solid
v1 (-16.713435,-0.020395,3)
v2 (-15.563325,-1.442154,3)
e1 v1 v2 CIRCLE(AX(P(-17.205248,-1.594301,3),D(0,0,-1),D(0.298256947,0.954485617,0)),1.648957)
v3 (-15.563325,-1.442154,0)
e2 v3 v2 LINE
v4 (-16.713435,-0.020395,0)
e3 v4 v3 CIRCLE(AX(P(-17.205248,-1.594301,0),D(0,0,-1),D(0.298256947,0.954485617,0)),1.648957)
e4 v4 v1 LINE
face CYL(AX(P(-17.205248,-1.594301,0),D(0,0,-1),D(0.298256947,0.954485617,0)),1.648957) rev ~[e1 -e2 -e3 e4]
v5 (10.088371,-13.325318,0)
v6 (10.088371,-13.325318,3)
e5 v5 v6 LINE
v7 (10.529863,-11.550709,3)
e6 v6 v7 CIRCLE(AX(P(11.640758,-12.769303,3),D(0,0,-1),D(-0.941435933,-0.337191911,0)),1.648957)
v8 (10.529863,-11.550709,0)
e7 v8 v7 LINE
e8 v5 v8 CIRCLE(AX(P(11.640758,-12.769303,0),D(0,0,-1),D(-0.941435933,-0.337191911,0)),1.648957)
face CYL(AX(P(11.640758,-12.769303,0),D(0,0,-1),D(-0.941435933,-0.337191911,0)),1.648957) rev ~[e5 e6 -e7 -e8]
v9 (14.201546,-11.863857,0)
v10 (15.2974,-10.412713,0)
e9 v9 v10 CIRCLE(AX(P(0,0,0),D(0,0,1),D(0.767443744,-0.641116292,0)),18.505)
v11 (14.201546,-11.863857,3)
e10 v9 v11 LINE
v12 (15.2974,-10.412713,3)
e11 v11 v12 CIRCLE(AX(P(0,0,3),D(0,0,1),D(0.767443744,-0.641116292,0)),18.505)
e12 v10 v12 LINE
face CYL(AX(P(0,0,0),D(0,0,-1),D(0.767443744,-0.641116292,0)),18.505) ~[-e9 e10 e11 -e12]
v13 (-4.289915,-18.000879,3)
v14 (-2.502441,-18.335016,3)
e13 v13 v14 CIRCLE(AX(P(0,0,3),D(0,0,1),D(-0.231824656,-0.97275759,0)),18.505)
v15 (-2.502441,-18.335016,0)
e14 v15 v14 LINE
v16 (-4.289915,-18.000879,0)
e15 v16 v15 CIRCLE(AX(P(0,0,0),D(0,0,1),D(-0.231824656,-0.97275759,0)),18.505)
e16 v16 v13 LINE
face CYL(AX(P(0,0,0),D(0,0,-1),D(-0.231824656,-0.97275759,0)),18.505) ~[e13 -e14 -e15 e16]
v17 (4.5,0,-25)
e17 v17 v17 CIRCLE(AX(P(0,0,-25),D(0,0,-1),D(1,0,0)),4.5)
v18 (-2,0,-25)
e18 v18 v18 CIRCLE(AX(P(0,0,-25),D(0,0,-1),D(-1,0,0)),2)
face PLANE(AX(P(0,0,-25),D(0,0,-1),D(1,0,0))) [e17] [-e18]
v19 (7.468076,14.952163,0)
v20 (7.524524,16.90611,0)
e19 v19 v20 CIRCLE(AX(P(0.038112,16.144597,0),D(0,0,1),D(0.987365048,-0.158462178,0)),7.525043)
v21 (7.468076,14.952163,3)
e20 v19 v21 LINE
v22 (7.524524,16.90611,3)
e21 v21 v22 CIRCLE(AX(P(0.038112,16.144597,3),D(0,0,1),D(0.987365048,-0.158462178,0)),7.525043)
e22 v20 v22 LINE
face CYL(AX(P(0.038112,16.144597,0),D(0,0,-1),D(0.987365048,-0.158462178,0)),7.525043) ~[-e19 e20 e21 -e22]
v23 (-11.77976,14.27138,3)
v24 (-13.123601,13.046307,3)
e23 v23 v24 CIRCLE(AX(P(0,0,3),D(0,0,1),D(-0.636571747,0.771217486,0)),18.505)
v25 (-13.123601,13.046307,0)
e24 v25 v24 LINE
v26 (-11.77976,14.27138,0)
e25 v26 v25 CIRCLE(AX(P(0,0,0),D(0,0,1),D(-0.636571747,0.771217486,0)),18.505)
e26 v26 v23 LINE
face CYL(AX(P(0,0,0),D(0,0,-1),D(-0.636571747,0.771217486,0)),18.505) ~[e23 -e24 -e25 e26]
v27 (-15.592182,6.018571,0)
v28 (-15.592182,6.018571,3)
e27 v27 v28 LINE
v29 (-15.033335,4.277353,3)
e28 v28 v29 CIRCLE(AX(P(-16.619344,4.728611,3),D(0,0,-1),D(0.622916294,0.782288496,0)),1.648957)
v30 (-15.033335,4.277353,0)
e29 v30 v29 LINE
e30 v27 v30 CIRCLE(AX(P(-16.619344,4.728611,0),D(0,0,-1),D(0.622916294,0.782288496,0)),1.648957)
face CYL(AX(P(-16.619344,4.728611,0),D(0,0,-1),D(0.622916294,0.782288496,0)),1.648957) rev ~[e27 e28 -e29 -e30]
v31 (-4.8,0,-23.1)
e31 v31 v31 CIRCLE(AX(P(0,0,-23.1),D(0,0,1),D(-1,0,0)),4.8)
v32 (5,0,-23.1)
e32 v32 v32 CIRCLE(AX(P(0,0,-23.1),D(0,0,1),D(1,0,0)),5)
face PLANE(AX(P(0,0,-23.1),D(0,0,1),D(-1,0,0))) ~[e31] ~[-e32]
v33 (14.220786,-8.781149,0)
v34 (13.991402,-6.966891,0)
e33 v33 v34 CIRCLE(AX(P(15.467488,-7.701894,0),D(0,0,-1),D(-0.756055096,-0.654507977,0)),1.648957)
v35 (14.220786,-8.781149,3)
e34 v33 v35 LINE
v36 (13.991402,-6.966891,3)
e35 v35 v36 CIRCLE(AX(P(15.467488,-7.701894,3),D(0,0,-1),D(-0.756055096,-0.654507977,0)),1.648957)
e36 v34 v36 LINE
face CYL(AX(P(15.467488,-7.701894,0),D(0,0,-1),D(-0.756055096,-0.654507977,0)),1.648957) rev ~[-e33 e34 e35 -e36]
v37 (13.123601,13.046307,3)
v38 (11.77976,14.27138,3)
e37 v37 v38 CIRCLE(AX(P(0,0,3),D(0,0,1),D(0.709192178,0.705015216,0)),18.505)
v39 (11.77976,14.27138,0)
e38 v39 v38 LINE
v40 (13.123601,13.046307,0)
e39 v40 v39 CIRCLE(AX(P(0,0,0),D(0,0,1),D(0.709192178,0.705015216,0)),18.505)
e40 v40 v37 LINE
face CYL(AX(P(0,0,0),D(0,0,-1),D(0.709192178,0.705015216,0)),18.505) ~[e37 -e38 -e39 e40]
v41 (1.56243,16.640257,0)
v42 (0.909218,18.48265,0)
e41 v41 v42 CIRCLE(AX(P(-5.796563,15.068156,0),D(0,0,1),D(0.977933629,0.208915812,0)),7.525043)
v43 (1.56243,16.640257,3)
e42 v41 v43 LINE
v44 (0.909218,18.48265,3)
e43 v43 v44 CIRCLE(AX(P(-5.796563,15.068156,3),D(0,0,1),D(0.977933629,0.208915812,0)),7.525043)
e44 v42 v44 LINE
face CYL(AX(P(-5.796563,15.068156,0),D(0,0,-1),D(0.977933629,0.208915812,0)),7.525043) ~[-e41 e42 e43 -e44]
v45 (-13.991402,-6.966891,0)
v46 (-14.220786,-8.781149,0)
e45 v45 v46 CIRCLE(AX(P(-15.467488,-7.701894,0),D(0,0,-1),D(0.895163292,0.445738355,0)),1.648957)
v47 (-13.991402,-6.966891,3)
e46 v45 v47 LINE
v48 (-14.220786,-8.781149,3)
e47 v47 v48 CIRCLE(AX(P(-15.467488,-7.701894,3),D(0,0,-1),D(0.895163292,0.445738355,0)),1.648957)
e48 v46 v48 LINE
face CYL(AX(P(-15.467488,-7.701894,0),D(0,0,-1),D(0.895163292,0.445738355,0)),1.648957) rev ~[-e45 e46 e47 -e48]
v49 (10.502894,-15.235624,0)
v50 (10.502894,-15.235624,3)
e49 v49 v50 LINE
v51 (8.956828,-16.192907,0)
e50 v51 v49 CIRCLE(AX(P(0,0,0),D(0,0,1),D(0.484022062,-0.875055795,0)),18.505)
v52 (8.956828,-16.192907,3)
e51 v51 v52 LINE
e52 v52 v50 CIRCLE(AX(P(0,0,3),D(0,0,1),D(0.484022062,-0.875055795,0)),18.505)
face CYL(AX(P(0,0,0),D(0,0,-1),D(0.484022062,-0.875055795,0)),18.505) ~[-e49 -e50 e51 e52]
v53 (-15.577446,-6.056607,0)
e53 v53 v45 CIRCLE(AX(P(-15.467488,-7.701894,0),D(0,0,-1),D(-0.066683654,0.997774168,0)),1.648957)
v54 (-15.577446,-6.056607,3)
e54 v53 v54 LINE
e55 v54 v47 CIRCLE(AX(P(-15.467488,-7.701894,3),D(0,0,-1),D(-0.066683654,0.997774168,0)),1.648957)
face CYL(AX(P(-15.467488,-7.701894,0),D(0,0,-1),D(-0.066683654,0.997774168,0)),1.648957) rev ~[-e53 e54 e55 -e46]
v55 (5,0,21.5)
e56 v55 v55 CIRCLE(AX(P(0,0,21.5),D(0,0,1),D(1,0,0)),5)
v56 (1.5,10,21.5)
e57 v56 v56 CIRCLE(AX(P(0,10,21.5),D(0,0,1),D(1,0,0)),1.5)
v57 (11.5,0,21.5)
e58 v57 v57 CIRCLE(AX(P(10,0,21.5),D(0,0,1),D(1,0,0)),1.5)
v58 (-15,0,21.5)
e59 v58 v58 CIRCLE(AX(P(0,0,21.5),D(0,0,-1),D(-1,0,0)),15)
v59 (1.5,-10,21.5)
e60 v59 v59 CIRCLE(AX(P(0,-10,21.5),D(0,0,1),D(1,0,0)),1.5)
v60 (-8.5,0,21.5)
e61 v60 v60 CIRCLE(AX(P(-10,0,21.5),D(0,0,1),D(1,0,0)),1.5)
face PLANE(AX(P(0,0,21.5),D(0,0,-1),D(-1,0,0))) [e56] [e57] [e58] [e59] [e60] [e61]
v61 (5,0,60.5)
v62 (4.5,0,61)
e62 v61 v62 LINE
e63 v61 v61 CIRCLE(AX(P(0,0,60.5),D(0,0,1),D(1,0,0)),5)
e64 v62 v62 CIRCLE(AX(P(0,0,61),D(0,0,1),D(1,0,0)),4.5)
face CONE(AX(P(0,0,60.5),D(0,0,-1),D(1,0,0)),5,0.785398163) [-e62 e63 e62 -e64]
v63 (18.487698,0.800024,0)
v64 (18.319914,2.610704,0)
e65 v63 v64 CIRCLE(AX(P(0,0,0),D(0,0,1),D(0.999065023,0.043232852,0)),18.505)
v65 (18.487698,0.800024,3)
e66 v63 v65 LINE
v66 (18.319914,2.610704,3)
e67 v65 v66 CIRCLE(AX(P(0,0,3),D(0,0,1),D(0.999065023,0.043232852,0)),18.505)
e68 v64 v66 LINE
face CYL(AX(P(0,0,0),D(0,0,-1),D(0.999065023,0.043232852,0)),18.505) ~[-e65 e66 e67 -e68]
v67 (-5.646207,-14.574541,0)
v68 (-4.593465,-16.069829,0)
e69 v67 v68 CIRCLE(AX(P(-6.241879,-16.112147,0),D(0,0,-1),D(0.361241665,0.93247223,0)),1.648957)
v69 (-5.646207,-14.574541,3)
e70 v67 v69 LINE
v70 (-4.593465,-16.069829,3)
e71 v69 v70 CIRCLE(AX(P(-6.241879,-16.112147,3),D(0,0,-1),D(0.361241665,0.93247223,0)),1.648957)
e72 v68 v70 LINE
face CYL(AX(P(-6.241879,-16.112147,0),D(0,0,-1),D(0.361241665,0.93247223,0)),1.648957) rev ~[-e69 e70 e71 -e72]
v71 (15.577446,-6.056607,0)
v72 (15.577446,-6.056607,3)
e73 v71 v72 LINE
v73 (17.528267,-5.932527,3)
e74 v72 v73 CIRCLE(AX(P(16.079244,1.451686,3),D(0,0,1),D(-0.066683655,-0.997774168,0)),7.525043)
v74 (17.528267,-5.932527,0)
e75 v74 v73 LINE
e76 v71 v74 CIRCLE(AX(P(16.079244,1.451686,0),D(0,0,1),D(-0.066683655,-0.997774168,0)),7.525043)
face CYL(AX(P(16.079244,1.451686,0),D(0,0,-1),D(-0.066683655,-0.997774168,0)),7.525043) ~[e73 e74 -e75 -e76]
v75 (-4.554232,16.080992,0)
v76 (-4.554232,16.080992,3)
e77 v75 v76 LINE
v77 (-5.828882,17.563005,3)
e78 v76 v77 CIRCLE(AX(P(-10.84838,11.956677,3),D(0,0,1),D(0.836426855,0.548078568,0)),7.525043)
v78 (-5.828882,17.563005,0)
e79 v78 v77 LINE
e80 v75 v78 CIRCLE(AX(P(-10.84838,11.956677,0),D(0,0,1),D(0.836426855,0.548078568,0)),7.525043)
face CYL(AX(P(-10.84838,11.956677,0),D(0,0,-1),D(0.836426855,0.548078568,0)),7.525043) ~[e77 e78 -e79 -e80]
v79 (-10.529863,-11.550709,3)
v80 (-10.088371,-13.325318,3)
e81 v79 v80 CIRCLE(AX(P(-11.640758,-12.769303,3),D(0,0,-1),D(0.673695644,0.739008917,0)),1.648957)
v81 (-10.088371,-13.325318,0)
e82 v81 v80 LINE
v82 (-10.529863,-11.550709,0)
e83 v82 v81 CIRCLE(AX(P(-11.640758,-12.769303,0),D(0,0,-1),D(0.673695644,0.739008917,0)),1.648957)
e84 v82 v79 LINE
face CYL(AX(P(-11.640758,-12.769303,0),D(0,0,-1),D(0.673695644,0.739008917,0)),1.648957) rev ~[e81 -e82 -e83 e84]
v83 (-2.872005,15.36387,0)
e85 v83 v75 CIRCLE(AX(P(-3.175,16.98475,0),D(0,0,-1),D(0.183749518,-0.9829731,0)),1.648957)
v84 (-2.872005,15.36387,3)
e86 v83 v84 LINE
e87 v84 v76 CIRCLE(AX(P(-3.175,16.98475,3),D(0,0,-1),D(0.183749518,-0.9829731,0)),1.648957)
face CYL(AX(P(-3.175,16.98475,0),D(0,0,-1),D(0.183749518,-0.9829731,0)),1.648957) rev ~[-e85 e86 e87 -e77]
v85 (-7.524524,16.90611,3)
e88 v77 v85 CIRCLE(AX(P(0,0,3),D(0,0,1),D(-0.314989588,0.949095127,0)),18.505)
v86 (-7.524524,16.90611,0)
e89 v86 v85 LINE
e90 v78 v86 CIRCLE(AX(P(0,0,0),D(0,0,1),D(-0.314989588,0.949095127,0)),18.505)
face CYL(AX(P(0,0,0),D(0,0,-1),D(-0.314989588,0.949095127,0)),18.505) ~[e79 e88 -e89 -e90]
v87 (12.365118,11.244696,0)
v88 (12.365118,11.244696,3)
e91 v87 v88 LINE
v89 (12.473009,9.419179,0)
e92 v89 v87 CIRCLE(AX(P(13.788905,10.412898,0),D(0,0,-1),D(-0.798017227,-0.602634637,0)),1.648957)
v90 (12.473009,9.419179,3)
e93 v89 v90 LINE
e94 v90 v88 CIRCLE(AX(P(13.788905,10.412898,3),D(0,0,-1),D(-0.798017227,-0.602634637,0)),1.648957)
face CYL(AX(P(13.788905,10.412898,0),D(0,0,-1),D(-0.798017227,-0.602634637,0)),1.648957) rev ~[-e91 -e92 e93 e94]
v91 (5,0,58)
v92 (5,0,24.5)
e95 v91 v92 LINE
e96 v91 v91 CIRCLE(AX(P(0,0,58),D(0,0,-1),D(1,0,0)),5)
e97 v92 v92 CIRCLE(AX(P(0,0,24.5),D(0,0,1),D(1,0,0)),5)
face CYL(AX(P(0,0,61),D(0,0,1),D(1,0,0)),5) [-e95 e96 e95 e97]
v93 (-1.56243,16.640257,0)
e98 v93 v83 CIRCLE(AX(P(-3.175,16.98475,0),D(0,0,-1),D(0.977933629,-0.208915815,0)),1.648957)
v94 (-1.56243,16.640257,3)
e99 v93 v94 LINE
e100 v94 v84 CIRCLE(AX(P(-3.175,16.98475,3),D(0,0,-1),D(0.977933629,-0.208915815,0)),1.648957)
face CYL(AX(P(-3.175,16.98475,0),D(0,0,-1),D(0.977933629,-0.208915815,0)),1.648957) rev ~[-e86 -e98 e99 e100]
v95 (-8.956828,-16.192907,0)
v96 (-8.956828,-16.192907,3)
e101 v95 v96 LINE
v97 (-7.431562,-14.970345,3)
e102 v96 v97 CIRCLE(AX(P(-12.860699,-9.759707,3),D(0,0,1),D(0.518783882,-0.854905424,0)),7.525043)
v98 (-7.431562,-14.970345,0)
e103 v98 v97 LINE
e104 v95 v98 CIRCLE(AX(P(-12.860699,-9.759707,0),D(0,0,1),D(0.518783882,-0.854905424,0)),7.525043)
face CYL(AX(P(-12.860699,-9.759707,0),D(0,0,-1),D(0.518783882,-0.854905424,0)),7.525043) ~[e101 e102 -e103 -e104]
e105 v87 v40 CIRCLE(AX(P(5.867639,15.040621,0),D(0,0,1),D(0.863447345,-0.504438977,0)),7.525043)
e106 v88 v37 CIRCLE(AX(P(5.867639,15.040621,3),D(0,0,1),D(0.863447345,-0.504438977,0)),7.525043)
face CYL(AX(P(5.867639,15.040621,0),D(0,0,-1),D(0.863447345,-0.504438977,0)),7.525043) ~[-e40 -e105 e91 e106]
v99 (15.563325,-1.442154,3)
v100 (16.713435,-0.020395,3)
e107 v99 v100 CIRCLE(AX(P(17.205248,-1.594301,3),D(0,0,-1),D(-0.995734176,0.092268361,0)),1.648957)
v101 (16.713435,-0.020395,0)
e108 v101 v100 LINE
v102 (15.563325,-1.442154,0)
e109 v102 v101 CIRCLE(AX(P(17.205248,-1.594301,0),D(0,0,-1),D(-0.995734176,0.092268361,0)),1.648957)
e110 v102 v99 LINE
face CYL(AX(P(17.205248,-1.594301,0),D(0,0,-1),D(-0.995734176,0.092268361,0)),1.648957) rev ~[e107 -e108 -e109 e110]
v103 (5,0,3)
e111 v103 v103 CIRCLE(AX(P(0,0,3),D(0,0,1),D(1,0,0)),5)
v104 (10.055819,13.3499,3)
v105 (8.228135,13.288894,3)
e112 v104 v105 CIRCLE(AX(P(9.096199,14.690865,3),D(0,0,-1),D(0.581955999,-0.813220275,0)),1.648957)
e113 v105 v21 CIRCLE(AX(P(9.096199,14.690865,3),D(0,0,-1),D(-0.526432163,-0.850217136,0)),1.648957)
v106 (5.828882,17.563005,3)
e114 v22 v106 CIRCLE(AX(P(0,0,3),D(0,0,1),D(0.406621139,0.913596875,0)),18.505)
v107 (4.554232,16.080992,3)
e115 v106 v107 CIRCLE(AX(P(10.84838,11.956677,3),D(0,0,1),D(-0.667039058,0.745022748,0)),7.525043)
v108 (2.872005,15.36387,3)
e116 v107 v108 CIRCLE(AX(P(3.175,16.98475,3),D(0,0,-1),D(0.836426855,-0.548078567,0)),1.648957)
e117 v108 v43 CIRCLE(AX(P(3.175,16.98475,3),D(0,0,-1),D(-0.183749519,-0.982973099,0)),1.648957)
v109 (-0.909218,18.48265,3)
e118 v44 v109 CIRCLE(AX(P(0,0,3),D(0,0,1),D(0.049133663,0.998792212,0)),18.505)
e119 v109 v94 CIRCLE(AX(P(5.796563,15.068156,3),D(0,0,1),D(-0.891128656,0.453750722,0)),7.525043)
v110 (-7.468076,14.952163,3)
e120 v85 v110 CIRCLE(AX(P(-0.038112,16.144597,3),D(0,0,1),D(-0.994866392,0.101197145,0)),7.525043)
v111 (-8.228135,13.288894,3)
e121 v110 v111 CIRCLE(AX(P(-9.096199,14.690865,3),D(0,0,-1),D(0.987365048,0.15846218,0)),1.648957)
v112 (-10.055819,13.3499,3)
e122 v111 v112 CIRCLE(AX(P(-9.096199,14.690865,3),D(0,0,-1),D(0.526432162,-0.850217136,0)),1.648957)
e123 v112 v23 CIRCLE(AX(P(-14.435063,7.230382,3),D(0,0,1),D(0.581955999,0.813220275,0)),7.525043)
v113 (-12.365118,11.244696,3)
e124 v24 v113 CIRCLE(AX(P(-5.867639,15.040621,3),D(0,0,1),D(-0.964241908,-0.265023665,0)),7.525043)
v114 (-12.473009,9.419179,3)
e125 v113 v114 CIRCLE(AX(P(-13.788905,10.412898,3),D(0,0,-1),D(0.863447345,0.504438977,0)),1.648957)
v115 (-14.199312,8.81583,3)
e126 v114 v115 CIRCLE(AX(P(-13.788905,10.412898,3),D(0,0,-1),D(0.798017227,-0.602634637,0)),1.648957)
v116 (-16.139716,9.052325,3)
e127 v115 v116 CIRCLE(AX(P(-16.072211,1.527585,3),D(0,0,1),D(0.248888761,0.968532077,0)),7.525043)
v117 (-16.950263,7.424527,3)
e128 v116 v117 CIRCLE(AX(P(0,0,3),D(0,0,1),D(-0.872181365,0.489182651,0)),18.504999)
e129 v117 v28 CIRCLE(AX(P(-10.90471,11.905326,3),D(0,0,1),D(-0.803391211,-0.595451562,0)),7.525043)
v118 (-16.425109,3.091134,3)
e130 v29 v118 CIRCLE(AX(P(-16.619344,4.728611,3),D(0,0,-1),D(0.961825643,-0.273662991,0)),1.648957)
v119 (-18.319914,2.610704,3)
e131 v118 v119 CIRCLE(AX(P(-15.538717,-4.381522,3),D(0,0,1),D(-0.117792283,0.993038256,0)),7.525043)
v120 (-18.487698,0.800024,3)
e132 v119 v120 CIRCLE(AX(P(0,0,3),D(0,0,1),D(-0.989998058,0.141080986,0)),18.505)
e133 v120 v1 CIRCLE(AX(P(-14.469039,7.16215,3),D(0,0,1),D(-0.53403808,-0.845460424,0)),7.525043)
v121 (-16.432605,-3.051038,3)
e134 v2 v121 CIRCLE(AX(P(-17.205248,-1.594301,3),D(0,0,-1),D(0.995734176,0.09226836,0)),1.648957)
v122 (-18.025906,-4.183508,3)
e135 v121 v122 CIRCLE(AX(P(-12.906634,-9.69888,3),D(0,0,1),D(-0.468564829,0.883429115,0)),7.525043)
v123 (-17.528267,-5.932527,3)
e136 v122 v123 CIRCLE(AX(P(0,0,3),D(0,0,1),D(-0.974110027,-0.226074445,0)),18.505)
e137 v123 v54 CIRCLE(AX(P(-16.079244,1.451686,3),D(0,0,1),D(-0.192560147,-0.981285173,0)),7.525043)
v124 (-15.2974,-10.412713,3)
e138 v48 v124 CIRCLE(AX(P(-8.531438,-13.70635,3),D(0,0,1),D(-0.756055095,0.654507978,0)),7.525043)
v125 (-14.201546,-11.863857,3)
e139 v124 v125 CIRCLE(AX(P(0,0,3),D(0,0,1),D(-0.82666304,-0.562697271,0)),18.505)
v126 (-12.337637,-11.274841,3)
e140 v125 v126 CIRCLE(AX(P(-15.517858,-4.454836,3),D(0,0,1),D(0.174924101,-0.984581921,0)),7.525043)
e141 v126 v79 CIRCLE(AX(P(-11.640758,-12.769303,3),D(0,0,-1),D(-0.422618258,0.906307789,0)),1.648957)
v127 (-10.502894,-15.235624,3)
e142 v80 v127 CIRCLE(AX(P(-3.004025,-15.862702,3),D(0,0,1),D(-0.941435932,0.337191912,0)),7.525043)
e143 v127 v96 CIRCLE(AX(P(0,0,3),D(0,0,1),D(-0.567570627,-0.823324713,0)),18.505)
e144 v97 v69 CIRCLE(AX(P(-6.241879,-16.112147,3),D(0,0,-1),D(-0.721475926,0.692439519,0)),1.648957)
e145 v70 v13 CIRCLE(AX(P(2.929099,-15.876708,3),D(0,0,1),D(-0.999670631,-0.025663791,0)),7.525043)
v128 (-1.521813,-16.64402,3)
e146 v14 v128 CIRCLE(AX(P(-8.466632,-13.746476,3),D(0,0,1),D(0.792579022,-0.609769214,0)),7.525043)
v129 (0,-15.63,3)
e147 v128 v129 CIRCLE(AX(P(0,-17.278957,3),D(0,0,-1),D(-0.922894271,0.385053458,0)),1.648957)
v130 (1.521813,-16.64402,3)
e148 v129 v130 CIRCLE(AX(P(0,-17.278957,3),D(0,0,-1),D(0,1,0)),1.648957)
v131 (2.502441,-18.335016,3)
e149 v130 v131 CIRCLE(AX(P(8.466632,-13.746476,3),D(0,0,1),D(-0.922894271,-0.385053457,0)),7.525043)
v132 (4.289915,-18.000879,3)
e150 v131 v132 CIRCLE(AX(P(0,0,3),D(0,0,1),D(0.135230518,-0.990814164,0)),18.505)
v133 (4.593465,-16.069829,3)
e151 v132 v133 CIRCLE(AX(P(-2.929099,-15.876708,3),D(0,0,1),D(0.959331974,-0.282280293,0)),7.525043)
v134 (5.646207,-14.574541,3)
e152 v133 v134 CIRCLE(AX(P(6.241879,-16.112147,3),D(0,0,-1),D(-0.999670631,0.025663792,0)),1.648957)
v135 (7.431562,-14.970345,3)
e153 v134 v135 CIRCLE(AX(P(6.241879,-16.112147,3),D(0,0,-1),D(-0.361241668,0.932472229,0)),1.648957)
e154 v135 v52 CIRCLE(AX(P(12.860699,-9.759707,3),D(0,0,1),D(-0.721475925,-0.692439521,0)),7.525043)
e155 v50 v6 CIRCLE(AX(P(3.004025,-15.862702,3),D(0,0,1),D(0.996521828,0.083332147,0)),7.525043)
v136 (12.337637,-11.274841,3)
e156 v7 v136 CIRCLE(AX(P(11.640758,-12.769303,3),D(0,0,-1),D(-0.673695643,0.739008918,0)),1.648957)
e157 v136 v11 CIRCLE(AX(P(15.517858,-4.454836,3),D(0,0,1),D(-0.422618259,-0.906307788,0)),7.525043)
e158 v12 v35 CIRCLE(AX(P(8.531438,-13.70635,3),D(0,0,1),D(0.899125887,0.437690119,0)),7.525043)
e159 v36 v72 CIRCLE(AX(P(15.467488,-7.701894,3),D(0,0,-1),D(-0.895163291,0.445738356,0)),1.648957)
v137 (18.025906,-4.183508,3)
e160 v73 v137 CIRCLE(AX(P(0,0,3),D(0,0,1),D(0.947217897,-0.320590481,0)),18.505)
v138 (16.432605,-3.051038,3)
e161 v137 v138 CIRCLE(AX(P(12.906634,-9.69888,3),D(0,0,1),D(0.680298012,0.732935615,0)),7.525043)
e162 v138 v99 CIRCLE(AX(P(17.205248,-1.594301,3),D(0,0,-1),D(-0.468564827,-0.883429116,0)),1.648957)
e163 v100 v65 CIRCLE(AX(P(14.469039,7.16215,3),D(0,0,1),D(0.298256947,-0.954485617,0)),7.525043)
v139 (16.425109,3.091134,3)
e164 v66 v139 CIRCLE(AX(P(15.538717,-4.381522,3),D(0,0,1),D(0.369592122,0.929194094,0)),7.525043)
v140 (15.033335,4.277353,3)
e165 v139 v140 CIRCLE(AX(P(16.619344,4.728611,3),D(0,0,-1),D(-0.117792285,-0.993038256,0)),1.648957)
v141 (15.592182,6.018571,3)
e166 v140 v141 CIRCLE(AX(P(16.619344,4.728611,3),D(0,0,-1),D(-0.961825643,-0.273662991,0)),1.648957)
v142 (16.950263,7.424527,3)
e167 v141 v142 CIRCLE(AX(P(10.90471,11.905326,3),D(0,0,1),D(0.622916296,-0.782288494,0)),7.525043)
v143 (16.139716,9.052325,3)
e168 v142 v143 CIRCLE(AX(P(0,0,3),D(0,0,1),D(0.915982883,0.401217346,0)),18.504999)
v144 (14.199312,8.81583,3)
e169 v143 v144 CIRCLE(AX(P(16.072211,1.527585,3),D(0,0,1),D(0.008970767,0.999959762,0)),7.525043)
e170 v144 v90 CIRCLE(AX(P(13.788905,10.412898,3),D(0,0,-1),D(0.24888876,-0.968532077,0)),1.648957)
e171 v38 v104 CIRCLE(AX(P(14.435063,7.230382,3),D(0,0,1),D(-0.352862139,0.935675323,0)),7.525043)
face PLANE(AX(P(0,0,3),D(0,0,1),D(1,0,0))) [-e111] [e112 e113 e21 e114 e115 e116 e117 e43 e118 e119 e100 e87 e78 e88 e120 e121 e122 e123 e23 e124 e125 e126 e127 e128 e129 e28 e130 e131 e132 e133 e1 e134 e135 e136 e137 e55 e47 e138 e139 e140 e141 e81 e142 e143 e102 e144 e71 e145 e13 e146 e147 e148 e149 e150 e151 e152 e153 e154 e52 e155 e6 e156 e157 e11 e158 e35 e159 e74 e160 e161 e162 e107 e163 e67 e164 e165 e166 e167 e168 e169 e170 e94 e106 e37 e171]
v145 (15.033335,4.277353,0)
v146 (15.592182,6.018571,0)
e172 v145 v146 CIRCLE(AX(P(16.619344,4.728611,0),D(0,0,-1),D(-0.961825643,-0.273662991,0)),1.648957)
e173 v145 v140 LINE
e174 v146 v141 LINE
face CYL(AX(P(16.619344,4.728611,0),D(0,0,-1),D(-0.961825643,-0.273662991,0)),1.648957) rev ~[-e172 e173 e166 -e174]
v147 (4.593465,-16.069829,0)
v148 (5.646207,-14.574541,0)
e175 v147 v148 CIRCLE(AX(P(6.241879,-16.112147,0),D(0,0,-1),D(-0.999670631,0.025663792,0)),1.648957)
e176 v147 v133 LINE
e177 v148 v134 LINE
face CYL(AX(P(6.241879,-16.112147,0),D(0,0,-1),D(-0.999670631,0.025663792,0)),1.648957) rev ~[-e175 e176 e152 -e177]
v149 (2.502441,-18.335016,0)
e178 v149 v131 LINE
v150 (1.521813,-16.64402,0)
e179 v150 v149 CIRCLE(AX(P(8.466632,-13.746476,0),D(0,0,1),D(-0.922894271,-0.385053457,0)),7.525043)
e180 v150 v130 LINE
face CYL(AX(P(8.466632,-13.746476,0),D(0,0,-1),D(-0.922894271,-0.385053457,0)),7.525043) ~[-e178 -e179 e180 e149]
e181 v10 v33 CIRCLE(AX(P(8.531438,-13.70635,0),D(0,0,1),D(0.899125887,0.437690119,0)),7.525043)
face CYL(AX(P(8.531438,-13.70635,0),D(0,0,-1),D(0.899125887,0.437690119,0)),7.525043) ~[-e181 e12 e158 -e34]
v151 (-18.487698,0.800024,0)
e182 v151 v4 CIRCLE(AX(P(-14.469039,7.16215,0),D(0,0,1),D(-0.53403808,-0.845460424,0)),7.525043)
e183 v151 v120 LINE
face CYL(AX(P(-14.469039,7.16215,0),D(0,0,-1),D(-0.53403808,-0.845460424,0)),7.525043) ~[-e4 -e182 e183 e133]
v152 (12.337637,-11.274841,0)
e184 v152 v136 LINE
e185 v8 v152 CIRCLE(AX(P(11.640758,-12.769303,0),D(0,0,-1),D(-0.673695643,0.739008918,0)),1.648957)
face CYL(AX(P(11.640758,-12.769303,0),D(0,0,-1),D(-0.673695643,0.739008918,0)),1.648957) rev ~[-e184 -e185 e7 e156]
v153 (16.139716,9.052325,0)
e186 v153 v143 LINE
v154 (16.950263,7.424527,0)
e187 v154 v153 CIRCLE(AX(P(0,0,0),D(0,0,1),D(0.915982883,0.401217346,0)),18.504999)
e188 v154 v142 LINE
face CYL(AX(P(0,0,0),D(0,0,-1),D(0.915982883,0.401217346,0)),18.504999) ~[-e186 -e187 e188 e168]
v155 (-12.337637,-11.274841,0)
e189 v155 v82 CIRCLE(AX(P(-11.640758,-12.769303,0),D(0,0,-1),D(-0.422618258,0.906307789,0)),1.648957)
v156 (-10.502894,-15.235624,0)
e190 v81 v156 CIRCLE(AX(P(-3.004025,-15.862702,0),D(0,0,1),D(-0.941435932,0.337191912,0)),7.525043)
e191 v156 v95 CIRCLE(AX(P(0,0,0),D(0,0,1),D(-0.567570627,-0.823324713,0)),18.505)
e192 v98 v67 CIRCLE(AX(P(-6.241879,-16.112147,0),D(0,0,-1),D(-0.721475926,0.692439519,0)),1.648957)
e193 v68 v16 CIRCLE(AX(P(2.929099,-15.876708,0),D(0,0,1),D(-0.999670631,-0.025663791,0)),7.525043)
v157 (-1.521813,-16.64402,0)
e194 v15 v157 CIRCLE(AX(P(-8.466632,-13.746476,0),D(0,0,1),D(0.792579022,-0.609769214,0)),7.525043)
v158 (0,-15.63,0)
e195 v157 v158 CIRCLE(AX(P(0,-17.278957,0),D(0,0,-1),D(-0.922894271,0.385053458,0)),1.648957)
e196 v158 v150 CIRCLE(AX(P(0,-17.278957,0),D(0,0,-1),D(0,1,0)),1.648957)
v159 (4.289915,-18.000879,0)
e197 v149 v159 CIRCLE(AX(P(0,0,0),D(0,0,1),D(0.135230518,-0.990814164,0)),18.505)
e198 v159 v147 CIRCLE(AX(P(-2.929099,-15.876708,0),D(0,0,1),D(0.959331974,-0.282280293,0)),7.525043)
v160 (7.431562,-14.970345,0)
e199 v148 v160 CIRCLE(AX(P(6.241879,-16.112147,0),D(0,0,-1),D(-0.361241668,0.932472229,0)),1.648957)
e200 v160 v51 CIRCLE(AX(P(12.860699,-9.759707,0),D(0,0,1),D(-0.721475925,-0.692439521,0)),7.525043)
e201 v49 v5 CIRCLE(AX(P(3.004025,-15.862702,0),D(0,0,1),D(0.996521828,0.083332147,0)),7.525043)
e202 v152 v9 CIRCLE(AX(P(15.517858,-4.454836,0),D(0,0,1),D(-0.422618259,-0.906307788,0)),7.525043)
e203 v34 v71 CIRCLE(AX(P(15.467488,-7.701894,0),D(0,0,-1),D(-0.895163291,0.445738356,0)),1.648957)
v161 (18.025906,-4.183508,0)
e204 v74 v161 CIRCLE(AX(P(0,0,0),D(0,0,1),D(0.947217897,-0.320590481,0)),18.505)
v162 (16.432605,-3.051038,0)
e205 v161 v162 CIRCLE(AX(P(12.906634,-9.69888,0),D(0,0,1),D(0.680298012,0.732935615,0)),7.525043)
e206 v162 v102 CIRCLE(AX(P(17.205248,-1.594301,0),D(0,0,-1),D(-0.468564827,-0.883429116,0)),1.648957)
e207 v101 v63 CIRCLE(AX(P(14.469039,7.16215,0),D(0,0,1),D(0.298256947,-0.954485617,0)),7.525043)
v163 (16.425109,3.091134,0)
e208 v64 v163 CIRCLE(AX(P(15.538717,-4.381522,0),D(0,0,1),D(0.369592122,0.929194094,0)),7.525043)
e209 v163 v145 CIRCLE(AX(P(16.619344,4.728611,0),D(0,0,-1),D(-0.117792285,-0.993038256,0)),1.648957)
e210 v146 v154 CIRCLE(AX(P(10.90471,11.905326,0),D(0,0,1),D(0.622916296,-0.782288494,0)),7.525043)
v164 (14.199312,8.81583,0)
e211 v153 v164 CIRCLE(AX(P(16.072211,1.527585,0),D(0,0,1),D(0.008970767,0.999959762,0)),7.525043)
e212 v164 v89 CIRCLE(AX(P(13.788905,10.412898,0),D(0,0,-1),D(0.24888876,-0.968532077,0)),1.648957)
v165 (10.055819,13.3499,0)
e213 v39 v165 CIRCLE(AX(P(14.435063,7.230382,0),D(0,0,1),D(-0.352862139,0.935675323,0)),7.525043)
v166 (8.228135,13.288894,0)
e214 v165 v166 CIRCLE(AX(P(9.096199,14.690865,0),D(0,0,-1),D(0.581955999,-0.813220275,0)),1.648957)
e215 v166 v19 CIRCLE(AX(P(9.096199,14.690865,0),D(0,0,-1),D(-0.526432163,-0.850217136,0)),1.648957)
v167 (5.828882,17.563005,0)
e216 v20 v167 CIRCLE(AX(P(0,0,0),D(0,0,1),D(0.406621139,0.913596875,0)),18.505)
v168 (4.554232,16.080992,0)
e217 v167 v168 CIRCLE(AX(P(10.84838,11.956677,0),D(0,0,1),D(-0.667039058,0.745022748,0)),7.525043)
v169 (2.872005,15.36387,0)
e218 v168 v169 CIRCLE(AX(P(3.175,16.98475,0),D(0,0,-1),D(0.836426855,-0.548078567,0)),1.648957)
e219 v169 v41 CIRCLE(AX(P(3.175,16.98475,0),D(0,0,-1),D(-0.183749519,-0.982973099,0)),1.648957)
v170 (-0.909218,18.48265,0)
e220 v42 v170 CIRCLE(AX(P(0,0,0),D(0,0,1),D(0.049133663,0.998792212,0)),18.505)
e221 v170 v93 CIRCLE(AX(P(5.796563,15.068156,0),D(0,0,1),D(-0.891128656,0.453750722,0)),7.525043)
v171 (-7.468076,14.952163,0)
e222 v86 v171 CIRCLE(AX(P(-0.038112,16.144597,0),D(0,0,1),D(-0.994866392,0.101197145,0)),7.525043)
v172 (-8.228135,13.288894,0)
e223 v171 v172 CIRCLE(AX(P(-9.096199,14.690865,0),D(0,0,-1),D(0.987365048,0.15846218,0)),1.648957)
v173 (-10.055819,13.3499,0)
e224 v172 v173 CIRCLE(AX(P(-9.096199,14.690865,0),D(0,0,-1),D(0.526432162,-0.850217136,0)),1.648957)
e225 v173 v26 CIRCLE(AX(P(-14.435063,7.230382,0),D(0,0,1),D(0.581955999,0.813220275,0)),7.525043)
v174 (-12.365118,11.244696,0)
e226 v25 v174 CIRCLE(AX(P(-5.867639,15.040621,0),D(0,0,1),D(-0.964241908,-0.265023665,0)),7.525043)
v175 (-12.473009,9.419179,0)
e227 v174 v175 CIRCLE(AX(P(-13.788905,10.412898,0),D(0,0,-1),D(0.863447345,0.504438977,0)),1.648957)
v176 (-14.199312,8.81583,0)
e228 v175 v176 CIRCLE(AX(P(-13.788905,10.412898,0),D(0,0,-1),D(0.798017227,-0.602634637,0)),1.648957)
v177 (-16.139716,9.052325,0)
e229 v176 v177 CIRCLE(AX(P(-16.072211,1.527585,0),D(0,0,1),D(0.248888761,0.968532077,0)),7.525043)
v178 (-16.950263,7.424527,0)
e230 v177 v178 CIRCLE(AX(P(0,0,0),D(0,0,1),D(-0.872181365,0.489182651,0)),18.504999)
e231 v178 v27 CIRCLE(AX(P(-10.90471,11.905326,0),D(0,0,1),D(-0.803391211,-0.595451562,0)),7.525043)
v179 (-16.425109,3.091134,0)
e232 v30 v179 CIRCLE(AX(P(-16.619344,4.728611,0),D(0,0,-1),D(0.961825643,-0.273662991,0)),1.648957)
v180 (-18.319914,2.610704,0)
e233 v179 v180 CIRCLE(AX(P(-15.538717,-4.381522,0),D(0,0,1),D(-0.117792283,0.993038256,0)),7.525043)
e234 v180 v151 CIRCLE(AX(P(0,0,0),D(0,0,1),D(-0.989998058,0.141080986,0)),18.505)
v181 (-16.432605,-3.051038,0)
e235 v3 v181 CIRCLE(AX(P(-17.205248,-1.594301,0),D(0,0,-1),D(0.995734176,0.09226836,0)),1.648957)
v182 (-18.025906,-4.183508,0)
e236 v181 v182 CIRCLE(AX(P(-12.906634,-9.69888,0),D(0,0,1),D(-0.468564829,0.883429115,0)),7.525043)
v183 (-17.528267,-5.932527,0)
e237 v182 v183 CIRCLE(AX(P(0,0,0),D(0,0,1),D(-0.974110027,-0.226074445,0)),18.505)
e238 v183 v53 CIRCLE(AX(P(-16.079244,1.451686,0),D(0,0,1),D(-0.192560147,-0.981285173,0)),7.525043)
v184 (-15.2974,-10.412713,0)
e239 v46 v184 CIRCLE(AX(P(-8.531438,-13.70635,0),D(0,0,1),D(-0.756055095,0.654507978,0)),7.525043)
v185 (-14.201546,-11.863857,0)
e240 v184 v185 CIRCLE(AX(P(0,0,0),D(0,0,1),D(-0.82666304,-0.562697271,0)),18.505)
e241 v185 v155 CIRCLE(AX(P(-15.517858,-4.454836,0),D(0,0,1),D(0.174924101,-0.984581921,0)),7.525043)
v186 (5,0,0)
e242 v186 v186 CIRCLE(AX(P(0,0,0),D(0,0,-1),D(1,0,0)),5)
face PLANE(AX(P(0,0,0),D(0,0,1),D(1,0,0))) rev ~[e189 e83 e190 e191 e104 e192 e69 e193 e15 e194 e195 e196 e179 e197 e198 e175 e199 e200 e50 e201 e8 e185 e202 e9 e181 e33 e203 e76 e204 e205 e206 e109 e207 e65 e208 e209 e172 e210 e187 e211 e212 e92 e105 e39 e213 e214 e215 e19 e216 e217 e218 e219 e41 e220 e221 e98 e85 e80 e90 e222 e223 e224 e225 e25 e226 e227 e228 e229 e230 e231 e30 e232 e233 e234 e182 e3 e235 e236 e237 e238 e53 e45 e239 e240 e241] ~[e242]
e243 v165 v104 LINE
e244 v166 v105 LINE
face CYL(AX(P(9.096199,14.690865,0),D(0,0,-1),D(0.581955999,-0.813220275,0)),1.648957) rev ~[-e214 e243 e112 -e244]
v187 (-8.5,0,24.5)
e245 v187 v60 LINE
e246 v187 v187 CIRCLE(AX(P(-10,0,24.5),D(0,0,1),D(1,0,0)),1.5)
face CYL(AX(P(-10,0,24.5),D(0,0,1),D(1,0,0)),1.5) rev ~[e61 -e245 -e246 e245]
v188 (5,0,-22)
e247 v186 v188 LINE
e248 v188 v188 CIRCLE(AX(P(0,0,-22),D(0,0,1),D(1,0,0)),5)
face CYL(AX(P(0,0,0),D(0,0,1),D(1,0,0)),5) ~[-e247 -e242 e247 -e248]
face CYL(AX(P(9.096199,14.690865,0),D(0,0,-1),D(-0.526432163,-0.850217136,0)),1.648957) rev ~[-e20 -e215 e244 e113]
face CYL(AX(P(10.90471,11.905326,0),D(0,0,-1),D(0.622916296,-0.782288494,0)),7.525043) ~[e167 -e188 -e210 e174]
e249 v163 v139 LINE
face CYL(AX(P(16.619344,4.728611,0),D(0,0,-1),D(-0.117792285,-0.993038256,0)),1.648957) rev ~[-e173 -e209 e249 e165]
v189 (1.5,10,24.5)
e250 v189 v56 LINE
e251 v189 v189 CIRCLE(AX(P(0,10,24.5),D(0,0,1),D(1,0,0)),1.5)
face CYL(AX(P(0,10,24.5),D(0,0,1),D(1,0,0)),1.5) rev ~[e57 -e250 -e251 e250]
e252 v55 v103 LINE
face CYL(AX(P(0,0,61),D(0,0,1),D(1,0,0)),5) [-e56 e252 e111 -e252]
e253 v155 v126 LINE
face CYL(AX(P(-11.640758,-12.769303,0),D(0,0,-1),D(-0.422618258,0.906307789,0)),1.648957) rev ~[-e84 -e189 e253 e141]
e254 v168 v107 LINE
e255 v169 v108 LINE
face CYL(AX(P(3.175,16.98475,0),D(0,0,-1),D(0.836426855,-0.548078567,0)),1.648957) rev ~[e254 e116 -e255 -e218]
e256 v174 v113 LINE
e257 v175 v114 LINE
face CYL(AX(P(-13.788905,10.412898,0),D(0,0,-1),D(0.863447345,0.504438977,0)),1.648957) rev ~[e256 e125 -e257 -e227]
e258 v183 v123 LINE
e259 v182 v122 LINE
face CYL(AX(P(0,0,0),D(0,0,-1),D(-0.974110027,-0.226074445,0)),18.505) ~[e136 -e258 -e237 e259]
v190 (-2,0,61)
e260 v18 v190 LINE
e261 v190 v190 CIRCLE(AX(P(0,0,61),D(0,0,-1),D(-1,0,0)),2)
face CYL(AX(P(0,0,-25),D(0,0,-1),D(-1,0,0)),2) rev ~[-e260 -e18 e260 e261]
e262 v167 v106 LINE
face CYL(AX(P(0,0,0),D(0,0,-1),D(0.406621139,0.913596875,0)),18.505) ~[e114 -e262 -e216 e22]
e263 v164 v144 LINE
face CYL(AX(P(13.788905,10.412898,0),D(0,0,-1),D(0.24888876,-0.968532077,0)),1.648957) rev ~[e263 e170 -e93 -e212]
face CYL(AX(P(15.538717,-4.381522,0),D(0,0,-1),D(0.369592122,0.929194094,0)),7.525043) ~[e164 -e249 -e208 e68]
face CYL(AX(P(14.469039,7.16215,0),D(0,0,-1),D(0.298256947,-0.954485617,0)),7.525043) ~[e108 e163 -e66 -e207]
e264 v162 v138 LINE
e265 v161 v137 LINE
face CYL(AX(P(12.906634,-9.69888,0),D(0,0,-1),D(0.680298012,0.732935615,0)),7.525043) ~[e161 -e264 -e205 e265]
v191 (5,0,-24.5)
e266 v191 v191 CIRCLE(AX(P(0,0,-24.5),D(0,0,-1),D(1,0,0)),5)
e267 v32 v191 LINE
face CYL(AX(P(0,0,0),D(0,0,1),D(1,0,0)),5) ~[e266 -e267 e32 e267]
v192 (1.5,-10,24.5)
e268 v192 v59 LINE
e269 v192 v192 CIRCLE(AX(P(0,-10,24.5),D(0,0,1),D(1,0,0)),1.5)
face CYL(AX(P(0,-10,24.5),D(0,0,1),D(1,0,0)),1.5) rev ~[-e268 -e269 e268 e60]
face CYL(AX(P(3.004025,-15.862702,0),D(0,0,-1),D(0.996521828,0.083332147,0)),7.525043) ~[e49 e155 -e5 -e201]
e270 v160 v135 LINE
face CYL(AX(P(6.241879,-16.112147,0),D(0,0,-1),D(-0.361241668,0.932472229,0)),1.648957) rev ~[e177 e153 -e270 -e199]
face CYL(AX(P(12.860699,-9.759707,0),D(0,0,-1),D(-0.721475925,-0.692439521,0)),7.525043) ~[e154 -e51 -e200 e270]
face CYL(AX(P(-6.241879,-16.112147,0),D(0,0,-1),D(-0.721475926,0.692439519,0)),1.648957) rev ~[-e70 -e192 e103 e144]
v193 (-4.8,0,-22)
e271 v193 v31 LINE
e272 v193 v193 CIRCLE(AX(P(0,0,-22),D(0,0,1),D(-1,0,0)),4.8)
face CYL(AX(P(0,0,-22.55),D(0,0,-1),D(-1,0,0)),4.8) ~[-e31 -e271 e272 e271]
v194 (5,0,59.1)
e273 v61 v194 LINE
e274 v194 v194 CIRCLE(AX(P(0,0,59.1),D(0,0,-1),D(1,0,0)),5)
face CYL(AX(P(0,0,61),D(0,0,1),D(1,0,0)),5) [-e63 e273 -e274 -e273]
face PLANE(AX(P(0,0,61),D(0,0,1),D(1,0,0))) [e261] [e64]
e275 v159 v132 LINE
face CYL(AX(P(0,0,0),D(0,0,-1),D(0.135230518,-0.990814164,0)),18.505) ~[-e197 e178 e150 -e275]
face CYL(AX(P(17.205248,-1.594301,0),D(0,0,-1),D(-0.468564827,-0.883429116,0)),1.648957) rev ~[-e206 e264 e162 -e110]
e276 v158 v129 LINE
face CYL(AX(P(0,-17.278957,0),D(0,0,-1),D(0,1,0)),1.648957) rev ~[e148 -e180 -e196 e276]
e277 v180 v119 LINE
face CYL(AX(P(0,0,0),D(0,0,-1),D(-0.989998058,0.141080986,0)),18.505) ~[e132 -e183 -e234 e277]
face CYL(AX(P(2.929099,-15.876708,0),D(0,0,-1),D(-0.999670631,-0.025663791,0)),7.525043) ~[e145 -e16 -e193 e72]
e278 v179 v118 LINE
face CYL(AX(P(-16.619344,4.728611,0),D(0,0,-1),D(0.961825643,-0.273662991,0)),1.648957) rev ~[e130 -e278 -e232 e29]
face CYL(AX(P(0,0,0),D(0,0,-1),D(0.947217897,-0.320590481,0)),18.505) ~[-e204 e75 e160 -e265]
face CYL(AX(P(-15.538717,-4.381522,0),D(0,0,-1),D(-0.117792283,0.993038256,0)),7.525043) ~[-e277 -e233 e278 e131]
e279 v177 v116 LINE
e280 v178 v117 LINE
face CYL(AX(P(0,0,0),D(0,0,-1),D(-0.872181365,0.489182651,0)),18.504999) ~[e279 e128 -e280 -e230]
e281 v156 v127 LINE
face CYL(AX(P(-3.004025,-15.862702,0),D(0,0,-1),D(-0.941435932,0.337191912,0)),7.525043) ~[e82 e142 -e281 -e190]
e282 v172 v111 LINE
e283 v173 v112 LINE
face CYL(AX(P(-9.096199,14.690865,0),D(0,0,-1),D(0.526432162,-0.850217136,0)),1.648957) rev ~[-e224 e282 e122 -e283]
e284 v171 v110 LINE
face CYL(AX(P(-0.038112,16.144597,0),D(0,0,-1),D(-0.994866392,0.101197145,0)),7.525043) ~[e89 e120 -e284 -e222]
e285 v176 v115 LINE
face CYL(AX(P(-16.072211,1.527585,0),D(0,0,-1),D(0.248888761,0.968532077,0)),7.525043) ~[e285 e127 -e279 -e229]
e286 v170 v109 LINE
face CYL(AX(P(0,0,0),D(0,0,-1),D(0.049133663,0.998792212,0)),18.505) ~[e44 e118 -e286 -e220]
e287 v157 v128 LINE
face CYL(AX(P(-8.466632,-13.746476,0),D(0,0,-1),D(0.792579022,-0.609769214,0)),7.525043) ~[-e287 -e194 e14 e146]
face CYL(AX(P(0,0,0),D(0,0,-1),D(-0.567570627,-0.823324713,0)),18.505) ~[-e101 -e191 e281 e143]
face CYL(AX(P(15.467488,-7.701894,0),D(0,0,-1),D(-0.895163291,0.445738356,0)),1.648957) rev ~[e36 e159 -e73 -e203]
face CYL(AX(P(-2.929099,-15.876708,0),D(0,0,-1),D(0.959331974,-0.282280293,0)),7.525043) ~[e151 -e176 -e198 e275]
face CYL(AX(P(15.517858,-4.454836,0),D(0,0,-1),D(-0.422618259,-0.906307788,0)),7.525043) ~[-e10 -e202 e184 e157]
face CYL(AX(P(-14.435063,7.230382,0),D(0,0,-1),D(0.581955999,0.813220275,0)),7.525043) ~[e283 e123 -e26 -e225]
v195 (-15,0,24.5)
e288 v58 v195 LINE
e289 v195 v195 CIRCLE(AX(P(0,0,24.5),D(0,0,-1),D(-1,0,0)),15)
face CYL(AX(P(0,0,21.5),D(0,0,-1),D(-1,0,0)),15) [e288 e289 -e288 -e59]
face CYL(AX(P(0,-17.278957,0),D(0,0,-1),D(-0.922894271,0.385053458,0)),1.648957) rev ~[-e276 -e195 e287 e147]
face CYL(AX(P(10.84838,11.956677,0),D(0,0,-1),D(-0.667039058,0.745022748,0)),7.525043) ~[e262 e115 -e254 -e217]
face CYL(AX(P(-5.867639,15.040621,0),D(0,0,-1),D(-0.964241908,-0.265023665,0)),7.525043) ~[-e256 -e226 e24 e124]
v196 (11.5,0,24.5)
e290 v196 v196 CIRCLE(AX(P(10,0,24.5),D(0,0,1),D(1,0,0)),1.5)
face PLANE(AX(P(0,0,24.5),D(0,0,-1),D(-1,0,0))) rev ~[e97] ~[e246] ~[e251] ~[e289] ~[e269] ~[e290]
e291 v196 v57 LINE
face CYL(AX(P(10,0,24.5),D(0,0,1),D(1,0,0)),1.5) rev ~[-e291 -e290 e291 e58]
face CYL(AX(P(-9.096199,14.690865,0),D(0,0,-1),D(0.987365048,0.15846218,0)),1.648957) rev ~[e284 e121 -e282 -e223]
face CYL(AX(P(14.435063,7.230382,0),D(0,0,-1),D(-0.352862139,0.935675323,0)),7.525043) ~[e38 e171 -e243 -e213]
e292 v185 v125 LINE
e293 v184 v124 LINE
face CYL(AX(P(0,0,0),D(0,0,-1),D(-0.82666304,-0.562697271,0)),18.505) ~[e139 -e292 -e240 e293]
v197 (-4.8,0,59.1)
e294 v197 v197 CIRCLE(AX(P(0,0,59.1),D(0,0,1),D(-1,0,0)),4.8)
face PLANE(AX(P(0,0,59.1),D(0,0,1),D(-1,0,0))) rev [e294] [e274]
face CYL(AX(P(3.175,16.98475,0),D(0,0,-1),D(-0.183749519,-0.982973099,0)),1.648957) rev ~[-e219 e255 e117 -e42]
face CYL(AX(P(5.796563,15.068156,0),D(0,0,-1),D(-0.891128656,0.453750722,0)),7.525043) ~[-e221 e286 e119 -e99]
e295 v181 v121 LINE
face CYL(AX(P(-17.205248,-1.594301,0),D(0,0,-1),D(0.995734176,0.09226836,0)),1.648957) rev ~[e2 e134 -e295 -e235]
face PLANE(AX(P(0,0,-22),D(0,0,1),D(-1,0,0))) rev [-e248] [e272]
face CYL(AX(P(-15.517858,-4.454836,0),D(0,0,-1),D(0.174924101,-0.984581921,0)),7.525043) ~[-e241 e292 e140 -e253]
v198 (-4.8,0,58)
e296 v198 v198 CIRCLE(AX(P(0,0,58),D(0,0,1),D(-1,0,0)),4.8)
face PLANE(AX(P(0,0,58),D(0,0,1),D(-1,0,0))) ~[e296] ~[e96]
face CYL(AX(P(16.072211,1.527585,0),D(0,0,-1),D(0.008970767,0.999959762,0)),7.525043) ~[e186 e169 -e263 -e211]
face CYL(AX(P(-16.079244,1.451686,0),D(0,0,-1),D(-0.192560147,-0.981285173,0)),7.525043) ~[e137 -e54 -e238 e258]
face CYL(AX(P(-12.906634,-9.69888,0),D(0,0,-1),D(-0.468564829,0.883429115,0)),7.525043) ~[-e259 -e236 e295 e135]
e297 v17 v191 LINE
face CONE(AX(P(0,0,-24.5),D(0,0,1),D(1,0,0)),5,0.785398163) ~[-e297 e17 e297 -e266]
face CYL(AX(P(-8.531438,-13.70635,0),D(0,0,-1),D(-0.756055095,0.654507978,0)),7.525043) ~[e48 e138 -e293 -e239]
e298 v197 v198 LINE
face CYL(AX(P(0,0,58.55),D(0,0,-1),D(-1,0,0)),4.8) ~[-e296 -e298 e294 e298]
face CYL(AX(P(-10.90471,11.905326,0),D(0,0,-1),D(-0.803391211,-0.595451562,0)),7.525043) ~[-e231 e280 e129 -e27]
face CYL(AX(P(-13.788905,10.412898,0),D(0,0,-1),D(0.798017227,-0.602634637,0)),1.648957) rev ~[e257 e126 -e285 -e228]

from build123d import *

# Parameters (mm, degrees)
EXTRUDE_2_DEPTH     = 3
SKETCH_2_R          = 5
EXTRUDE_3_DEPTH     = 25
EXTRUDE_START       = 58
SKETCH_3_R          = 5
EXTRUDE_4_DEPTH     = 58
SKETCH_4_R          = 15
EXTRUDE_5_DEPTH     = 3
SKETCH_5_R          = 1.5
CUT_EXTRUDE_1_DEPTH = 3
SKETCH_7_R          = 2
CUT_EXTRUDE_2_DEPTH = 90
SKETCH_9_W          = 0.2
SKETCH_9_H          = 1.1
CHAMFER_3_SIZE      = 0.5


with BuildPart() as part:
    # 草图1 → 凸台-拉伸2 (new body)
    with BuildSketch(Plane.XY):
        with BuildLine():
            ThreePointArc((-11.779760181, 14.271379579), (-12.466737886, 13.675360013), (-13.123601243, 13.046306581))
            ThreePointArc((-13.123601243, 13.046306581), (-12.803108373, 12.120767872), (-12.365117817, 11.24469604))
            ThreePointArc((-12.365117817, 11.24469604), (-12.142820781, 10.31561124), (-12.473009262, 9.419179367))
            ThreePointArc((-12.473009262, 9.419179367), (-13.244860059, 8.856275392), (-14.199312115, 8.815830257))
            ThreePointArc((-14.199312115, 8.815830257), (-15.161802274, 8.997352368), (-16.139716175, 9.052324938))
            ThreePointArc((-16.139716175, 9.052324938), (-16.564996707, 8.248388274), (-16.950263236, 7.424527004))
            ThreePointArc((-16.950263236, 7.424527004), (-16.317069389, 6.677263239), (-15.592181711, 6.018571022))
            ThreePointArc((-15.592181711, 6.018571022), (-15.049271757, 5.2325282), (-15.033334803, 4.277352535))
            ThreePointArc((-15.033334803, 4.277352535), (-15.549719866, 3.473635543), (-16.425109435, 3.091133726))
            ThreePointArc((-16.425109435, 3.091133726), (-17.388178129, 2.912706505), (-18.319914067, 2.610703653))
            ThreePointArc((-18.319914067, 2.610703653), (-18.426060932, 1.707425992), (-18.487698254, 0.800023914))
            ThreePointArc((-18.487698254, 0.800023914), (-17.627319769, 0.331957205), (-16.713435066, -0.020395362))
            ThreePointArc((-16.713435066, -0.020395362), (-15.923235192, -0.557236769), (-15.563325175, -1.442154458))
            ThreePointArc((-15.563325175, -1.442154458), (-15.754503841, -2.378138035), (-16.432604711, -3.051037542))
            ThreePointArc((-16.432604711, -3.051037542), (-17.266184176, -3.565316511), (-18.02590605, -4.183507626))
            ThreePointArc((-18.02590605, -4.183507626), (-17.798583527, -5.064133631), (-17.528267179, -5.932526839))
            ThreePointArc((-17.528267179, -5.932526839), (-16.556902937, -6.058181489), (-15.577446402, -6.056607239))
            ThreePointArc((-15.577446402, -6.056607239), (-14.64667748, -6.271743824), (-13.991402244, -6.966890501))
            ThreePointArc((-13.991402244, -6.966890501), (-13.831554774, -7.908730892), (-14.220785664, -8.781149285))
            ThreePointArc((-14.220785664, -8.781149285), (-14.812296375, -9.561823776), (-15.297399536, -10.412713019))
            ThreePointArc((-15.297399536, -10.412713019), (-14.767308791, -11.151753946), (-14.201546494, -11.863856968))
            ThreePointArc((-14.201546494, -11.863856968), (-13.250384619, -11.630129203), (-12.337637284, -11.274840748))
            ThreePointArc((-12.337637284, -11.274840748), (-11.392004814, -11.139217123), (-10.52986291, -11.550709376))
            ThreePointArc((-10.52986291, -11.550709376), (-10.040577591, -12.371205819), (-10.088370713, -13.325318158))
            ThreePointArc((-10.088370713, -13.325318158), (-10.357925871, -14.266953756), (-10.502894449, -15.23562382))
            ThreePointArc((-10.502894449, -15.23562382), (-9.741627174, -15.733268097), (-8.956828262, -16.192907475))
            ThreePointArc((-8.956828262, -16.192907475), (-8.154328435, -15.631363523), (-7.431561886, -14.970344538))
            ThreePointArc((-7.431561886, -14.970344538), (-6.598778773, -14.502277424), (-5.646207243, -14.574540946))
            ThreePointArc((-5.646207243, -14.574540946), (-4.893564768, -15.162880849), (-4.593465396, -16.069828976))
            ThreePointArc((-4.593465396, -16.069828976), (-4.504660083, -17.045252575), (-4.289915268, -18.000879201))
            ThreePointArc((-4.289915268, -18.000879201), (-3.400284827, -18.18991721), (-2.502440741, -18.335016099))
            ThreePointArc((-2.502440741, -18.335016099), (-1.956985011, -17.521495584), (-1.521812876, -16.644020345))
            ThreePointArc((-1.521812876, -16.644020345), (-0.914351093, -15.9067248), (0, -15.63))
            ThreePointArc((0, -15.63), (0.914351093, -15.9067248), (1.521812876, -16.644020345))
            ThreePointArc((1.521812876, -16.644020345), (1.956985011, -17.521495584), (2.502440741, -18.335016099))
            ThreePointArc((2.502440741, -18.335016099), (3.400284827, -18.18991721), (4.289915268, -18.000879201))
            ThreePointArc((4.289915268, -18.000879201), (4.504660083, -17.045252575), (4.593465396, -16.069828976))
            ThreePointArc((4.593465396, -16.069828976), (4.893564768, -15.162880849), (5.646207243, -14.574540946))
            ThreePointArc((5.646207243, -14.574540946), (6.598778773, -14.502277424), (7.431561886, -14.970344538))
            ThreePointArc((7.431561886, -14.970344538), (8.154328435, -15.631363523), (8.956828262, -16.192907475))
            ThreePointArc((8.956828262, -16.192907475), (9.741627174, -15.733268097), (10.502894449, -15.23562382))
            ThreePointArc((10.502894449, -15.23562382), (10.357925871, -14.266953756), (10.088370713, -13.325318158))
            ThreePointArc((10.088370713, -13.325318158), (10.040577591, -12.371205819), (10.52986291, -11.550709376))
            ThreePointArc((10.52986291, -11.550709376), (11.392004814, -11.139217123), (12.337637284, -11.274840748))
            ThreePointArc((12.337637284, -11.274840748), (13.250384619, -11.630129203), (14.201546494, -11.863856968))
            ThreePointArc((14.201546494, -11.863856968), (14.767308791, -11.151753946), (15.297399536, -10.412713019))
            ThreePointArc((15.297399536, -10.412713019), (14.812296375, -9.561823776), (14.220785664, -8.781149285))
            ThreePointArc((14.220785664, -8.781149285), (13.831554774, -7.908730892), (13.991402244, -6.966890501))
            ThreePointArc((13.991402244, -6.966890501), (14.64667748, -6.271743824), (15.577446402, -6.056607239))
            ThreePointArc((15.577446402, -6.056607239), (16.556902937, -6.058181489), (17.528267179, -5.932526839))
            ThreePointArc((17.528267179, -5.932526839), (17.798583527, -5.064133631), (18.02590605, -4.183507626))
            ThreePointArc((18.02590605, -4.183507626), (17.266184176, -3.565316511), (16.432604711, -3.051037542))
            ThreePointArc((16.432604711, -3.051037542), (15.754503841, -2.378138035), (15.563325175, -1.442154458))
            ThreePointArc((15.563325175, -1.442154458), (15.923235192, -0.557236769), (16.713435066, -0.020395362))
            ThreePointArc((16.713435066, -0.020395362), (17.627319769, 0.331957205), (18.487698254, 0.800023914))
            ThreePointArc((18.487698254, 0.800023914), (18.426060932, 1.707425992), (18.319914067, 2.610703653))
            ThreePointArc((18.319914067, 2.610703653), (17.388178129, 2.912706505), (16.425109435, 3.091133726))
            ThreePointArc((16.425109435, 3.091133726), (15.549719866, 3.473635543), (15.033334803, 4.277352535))
            ThreePointArc((15.033334803, 4.277352535), (15.049271757, 5.2325282), (15.592181711, 6.018571022))
            ThreePointArc((15.592181711, 6.018571022), (16.317069389, 6.677263239), (16.950263236, 7.424527004))
            ThreePointArc((16.950263236, 7.424527004), (16.564996707, 8.248388274), (16.139716175, 9.052324938))
            ThreePointArc((16.139716175, 9.052324938), (15.161802274, 8.997352368), (14.199312115, 8.815830257))
            ThreePointArc((14.199312115, 8.815830257), (13.244860059, 8.856275392), (12.473009262, 9.419179367))
            ThreePointArc((12.473009262, 9.419179367), (12.142820781, 10.31561124), (12.365117817, 11.24469604))
            ThreePointArc((12.365117817, 11.24469604), (12.803108373, 12.120767872), (13.123601243, 13.046306581))
            ThreePointArc((13.123601243, 13.046306581), (12.466737886, 13.675360013), (11.779760181, 14.271379579))
            ThreePointArc((11.779760181, 14.271379579), (10.887741008, 13.866855937), (10.055819013, 13.349900061))
            ThreePointArc((10.055819013, 13.349900061), (9.151208508, 13.042826175), (8.228134706, 13.288893831))
            ThreePointArc((8.228134706, 13.288893831), (7.596414573, 14.005513822), (7.468076245, 14.952162548))
            ThreePointArc((7.468076245, 14.952162548), (7.560016626, 15.927295641), (7.524524182, 16.906110163))
            ThreePointArc((7.524524182, 16.906110163), (6.684777033, 17.255398605), (5.8288823, 17.563005328))
            ThreePointArc((5.8288823, 17.563005328), (5.143229987, 16.863563773), (4.554231832, 16.080991887))
            ThreePointArc((4.554231832, 16.080991887), (3.821635541, 15.46787101), (2.872004963, 15.363869548))
            ThreePointArc((2.872004963, 15.363869548), (2.024070484, 15.803894155), (1.562429593, 16.640256651))
            ThreePointArc((1.562429593, 16.640256651), (1.295902743, 17.582753877), (0.909218435, 18.482649887))
            ThreePointArc((0.909218435, 18.482649887), (0, 18.505), (-0.909218435, 18.482649887))
            ThreePointArc((-0.909218435, 18.482649887), (-1.295902743, 17.582753877), (-1.562429593, 16.640256651))
            ThreePointArc((-1.562429593, 16.640256651), (-2.024070484, 15.803894155), (-2.872004963, 15.363869548))
            ThreePointArc((-2.872004963, 15.363869548), (-3.821635541, 15.46787101), (-4.554231832, 16.080991887))
            ThreePointArc((-4.554231832, 16.080991887), (-5.143229987, 16.863563773), (-5.8288823, 17.563005328))
            ThreePointArc((-5.8288823, 17.563005328), (-6.684777033, 17.255398605), (-7.524524182, 16.906110163))
            ThreePointArc((-7.524524182, 16.906110163), (-7.560016626, 15.927295641), (-7.468076245, 14.952162548))
            ThreePointArc((-7.468076245, 14.952162548), (-7.596414573, 14.005513822), (-8.228134706, 13.288893831))
            ThreePointArc((-8.228134706, 13.288893831), (-9.151208508, 13.042826175), (-10.055819013, 13.349900061))
            ThreePointArc((-10.055819013, 13.349900061), (-10.887741008, 13.866855937), (-11.779760181, 14.271379579))
        make_face()
    extrude(amount=EXTRUDE_2_DEPTH)

    # 草图2 → 凸台-拉伸3 (add)
    with BuildSketch(Plane(origin=(0, 0, 0), x_dir=(-1, 0, 0), z_dir=(0, 0, -1))):
        with Locations(Location((0, 0, 0), (0, 0, 180))):
            Circle(SKETCH_2_R)
    extrude(amount=EXTRUDE_3_DEPTH)

    # 草图3 → 凸台-拉伸4 (add)
    with BuildSketch(Plane.XY.offset(3).offset(EXTRUDE_START)):
        Circle(SKETCH_3_R)
    extrude(amount=-EXTRUDE_4_DEPTH)

    # 草图4 → 凸台-拉伸5 (add)
    with BuildSketch(Plane(origin=(0, 0, 21.5), x_dir=(-1, 0, 0), z_dir=(0, 0, -1))):
        Circle(SKETCH_4_R)
    extrude(amount=-EXTRUDE_5_DEPTH)

    # 草图5 → 切除-拉伸1 (cut)
    with BuildSketch(Plane.XY.offset(24.5)):
        with Locations((0, 10)):
            Circle(SKETCH_5_R)
        with Locations((10, 0)):
            Circle(SKETCH_5_R)
        with Locations((0, -10)):
            Circle(SKETCH_5_R)
        with Locations((-10, 0)):
            Circle(SKETCH_5_R)
    extrude(amount=-CUT_EXTRUDE_1_DEPTH, mode=Mode.SUBTRACT)

    # 草图7 → 切除-拉伸2 (cut)
    with BuildSketch(Plane(origin=(0, 0, -25), x_dir=(-1, 0, 0), z_dir=(0, 0, -1))):
        Circle(SKETCH_7_R)
    extrude(amount=-CUT_EXTRUDE_2_DEPTH, mode=Mode.SUBTRACT)

    # 草图9 → 切除-旋转2 (revolve, cut)
    with BuildSketch(Plane(origin=(0, 0, 0), x_dir=(1, 0, 0), z_dir=(0, 1, 0)), mode=Mode.PRIVATE) as cut_revolve_2_sk:
        with Locations((4.9, 22.55)):
            Rectangle(SKETCH_9_W, SKETCH_9_H)
        with Locations((4.9, -58.55)):
            Rectangle(SKETCH_9_W, SKETCH_9_H)
    revolve(cut_revolve_2_sk.sketch.rotate(Axis((0, 0, -25), (0, 0, 1)), 180), axis=Axis((0, 0, -25), (0, 0, 1)), mode=Mode.SUBTRACT)

    # 倒角3
    chamfer_3_edges = [part.edges().sort_by_distance(p)[0] for p in [
        (-5, 0, -25),
        (-5, 0, 61),
    ]]
    chamfer(chamfer_3_edges, length=CHAMFER_3_SIZE)


solid = part.part
